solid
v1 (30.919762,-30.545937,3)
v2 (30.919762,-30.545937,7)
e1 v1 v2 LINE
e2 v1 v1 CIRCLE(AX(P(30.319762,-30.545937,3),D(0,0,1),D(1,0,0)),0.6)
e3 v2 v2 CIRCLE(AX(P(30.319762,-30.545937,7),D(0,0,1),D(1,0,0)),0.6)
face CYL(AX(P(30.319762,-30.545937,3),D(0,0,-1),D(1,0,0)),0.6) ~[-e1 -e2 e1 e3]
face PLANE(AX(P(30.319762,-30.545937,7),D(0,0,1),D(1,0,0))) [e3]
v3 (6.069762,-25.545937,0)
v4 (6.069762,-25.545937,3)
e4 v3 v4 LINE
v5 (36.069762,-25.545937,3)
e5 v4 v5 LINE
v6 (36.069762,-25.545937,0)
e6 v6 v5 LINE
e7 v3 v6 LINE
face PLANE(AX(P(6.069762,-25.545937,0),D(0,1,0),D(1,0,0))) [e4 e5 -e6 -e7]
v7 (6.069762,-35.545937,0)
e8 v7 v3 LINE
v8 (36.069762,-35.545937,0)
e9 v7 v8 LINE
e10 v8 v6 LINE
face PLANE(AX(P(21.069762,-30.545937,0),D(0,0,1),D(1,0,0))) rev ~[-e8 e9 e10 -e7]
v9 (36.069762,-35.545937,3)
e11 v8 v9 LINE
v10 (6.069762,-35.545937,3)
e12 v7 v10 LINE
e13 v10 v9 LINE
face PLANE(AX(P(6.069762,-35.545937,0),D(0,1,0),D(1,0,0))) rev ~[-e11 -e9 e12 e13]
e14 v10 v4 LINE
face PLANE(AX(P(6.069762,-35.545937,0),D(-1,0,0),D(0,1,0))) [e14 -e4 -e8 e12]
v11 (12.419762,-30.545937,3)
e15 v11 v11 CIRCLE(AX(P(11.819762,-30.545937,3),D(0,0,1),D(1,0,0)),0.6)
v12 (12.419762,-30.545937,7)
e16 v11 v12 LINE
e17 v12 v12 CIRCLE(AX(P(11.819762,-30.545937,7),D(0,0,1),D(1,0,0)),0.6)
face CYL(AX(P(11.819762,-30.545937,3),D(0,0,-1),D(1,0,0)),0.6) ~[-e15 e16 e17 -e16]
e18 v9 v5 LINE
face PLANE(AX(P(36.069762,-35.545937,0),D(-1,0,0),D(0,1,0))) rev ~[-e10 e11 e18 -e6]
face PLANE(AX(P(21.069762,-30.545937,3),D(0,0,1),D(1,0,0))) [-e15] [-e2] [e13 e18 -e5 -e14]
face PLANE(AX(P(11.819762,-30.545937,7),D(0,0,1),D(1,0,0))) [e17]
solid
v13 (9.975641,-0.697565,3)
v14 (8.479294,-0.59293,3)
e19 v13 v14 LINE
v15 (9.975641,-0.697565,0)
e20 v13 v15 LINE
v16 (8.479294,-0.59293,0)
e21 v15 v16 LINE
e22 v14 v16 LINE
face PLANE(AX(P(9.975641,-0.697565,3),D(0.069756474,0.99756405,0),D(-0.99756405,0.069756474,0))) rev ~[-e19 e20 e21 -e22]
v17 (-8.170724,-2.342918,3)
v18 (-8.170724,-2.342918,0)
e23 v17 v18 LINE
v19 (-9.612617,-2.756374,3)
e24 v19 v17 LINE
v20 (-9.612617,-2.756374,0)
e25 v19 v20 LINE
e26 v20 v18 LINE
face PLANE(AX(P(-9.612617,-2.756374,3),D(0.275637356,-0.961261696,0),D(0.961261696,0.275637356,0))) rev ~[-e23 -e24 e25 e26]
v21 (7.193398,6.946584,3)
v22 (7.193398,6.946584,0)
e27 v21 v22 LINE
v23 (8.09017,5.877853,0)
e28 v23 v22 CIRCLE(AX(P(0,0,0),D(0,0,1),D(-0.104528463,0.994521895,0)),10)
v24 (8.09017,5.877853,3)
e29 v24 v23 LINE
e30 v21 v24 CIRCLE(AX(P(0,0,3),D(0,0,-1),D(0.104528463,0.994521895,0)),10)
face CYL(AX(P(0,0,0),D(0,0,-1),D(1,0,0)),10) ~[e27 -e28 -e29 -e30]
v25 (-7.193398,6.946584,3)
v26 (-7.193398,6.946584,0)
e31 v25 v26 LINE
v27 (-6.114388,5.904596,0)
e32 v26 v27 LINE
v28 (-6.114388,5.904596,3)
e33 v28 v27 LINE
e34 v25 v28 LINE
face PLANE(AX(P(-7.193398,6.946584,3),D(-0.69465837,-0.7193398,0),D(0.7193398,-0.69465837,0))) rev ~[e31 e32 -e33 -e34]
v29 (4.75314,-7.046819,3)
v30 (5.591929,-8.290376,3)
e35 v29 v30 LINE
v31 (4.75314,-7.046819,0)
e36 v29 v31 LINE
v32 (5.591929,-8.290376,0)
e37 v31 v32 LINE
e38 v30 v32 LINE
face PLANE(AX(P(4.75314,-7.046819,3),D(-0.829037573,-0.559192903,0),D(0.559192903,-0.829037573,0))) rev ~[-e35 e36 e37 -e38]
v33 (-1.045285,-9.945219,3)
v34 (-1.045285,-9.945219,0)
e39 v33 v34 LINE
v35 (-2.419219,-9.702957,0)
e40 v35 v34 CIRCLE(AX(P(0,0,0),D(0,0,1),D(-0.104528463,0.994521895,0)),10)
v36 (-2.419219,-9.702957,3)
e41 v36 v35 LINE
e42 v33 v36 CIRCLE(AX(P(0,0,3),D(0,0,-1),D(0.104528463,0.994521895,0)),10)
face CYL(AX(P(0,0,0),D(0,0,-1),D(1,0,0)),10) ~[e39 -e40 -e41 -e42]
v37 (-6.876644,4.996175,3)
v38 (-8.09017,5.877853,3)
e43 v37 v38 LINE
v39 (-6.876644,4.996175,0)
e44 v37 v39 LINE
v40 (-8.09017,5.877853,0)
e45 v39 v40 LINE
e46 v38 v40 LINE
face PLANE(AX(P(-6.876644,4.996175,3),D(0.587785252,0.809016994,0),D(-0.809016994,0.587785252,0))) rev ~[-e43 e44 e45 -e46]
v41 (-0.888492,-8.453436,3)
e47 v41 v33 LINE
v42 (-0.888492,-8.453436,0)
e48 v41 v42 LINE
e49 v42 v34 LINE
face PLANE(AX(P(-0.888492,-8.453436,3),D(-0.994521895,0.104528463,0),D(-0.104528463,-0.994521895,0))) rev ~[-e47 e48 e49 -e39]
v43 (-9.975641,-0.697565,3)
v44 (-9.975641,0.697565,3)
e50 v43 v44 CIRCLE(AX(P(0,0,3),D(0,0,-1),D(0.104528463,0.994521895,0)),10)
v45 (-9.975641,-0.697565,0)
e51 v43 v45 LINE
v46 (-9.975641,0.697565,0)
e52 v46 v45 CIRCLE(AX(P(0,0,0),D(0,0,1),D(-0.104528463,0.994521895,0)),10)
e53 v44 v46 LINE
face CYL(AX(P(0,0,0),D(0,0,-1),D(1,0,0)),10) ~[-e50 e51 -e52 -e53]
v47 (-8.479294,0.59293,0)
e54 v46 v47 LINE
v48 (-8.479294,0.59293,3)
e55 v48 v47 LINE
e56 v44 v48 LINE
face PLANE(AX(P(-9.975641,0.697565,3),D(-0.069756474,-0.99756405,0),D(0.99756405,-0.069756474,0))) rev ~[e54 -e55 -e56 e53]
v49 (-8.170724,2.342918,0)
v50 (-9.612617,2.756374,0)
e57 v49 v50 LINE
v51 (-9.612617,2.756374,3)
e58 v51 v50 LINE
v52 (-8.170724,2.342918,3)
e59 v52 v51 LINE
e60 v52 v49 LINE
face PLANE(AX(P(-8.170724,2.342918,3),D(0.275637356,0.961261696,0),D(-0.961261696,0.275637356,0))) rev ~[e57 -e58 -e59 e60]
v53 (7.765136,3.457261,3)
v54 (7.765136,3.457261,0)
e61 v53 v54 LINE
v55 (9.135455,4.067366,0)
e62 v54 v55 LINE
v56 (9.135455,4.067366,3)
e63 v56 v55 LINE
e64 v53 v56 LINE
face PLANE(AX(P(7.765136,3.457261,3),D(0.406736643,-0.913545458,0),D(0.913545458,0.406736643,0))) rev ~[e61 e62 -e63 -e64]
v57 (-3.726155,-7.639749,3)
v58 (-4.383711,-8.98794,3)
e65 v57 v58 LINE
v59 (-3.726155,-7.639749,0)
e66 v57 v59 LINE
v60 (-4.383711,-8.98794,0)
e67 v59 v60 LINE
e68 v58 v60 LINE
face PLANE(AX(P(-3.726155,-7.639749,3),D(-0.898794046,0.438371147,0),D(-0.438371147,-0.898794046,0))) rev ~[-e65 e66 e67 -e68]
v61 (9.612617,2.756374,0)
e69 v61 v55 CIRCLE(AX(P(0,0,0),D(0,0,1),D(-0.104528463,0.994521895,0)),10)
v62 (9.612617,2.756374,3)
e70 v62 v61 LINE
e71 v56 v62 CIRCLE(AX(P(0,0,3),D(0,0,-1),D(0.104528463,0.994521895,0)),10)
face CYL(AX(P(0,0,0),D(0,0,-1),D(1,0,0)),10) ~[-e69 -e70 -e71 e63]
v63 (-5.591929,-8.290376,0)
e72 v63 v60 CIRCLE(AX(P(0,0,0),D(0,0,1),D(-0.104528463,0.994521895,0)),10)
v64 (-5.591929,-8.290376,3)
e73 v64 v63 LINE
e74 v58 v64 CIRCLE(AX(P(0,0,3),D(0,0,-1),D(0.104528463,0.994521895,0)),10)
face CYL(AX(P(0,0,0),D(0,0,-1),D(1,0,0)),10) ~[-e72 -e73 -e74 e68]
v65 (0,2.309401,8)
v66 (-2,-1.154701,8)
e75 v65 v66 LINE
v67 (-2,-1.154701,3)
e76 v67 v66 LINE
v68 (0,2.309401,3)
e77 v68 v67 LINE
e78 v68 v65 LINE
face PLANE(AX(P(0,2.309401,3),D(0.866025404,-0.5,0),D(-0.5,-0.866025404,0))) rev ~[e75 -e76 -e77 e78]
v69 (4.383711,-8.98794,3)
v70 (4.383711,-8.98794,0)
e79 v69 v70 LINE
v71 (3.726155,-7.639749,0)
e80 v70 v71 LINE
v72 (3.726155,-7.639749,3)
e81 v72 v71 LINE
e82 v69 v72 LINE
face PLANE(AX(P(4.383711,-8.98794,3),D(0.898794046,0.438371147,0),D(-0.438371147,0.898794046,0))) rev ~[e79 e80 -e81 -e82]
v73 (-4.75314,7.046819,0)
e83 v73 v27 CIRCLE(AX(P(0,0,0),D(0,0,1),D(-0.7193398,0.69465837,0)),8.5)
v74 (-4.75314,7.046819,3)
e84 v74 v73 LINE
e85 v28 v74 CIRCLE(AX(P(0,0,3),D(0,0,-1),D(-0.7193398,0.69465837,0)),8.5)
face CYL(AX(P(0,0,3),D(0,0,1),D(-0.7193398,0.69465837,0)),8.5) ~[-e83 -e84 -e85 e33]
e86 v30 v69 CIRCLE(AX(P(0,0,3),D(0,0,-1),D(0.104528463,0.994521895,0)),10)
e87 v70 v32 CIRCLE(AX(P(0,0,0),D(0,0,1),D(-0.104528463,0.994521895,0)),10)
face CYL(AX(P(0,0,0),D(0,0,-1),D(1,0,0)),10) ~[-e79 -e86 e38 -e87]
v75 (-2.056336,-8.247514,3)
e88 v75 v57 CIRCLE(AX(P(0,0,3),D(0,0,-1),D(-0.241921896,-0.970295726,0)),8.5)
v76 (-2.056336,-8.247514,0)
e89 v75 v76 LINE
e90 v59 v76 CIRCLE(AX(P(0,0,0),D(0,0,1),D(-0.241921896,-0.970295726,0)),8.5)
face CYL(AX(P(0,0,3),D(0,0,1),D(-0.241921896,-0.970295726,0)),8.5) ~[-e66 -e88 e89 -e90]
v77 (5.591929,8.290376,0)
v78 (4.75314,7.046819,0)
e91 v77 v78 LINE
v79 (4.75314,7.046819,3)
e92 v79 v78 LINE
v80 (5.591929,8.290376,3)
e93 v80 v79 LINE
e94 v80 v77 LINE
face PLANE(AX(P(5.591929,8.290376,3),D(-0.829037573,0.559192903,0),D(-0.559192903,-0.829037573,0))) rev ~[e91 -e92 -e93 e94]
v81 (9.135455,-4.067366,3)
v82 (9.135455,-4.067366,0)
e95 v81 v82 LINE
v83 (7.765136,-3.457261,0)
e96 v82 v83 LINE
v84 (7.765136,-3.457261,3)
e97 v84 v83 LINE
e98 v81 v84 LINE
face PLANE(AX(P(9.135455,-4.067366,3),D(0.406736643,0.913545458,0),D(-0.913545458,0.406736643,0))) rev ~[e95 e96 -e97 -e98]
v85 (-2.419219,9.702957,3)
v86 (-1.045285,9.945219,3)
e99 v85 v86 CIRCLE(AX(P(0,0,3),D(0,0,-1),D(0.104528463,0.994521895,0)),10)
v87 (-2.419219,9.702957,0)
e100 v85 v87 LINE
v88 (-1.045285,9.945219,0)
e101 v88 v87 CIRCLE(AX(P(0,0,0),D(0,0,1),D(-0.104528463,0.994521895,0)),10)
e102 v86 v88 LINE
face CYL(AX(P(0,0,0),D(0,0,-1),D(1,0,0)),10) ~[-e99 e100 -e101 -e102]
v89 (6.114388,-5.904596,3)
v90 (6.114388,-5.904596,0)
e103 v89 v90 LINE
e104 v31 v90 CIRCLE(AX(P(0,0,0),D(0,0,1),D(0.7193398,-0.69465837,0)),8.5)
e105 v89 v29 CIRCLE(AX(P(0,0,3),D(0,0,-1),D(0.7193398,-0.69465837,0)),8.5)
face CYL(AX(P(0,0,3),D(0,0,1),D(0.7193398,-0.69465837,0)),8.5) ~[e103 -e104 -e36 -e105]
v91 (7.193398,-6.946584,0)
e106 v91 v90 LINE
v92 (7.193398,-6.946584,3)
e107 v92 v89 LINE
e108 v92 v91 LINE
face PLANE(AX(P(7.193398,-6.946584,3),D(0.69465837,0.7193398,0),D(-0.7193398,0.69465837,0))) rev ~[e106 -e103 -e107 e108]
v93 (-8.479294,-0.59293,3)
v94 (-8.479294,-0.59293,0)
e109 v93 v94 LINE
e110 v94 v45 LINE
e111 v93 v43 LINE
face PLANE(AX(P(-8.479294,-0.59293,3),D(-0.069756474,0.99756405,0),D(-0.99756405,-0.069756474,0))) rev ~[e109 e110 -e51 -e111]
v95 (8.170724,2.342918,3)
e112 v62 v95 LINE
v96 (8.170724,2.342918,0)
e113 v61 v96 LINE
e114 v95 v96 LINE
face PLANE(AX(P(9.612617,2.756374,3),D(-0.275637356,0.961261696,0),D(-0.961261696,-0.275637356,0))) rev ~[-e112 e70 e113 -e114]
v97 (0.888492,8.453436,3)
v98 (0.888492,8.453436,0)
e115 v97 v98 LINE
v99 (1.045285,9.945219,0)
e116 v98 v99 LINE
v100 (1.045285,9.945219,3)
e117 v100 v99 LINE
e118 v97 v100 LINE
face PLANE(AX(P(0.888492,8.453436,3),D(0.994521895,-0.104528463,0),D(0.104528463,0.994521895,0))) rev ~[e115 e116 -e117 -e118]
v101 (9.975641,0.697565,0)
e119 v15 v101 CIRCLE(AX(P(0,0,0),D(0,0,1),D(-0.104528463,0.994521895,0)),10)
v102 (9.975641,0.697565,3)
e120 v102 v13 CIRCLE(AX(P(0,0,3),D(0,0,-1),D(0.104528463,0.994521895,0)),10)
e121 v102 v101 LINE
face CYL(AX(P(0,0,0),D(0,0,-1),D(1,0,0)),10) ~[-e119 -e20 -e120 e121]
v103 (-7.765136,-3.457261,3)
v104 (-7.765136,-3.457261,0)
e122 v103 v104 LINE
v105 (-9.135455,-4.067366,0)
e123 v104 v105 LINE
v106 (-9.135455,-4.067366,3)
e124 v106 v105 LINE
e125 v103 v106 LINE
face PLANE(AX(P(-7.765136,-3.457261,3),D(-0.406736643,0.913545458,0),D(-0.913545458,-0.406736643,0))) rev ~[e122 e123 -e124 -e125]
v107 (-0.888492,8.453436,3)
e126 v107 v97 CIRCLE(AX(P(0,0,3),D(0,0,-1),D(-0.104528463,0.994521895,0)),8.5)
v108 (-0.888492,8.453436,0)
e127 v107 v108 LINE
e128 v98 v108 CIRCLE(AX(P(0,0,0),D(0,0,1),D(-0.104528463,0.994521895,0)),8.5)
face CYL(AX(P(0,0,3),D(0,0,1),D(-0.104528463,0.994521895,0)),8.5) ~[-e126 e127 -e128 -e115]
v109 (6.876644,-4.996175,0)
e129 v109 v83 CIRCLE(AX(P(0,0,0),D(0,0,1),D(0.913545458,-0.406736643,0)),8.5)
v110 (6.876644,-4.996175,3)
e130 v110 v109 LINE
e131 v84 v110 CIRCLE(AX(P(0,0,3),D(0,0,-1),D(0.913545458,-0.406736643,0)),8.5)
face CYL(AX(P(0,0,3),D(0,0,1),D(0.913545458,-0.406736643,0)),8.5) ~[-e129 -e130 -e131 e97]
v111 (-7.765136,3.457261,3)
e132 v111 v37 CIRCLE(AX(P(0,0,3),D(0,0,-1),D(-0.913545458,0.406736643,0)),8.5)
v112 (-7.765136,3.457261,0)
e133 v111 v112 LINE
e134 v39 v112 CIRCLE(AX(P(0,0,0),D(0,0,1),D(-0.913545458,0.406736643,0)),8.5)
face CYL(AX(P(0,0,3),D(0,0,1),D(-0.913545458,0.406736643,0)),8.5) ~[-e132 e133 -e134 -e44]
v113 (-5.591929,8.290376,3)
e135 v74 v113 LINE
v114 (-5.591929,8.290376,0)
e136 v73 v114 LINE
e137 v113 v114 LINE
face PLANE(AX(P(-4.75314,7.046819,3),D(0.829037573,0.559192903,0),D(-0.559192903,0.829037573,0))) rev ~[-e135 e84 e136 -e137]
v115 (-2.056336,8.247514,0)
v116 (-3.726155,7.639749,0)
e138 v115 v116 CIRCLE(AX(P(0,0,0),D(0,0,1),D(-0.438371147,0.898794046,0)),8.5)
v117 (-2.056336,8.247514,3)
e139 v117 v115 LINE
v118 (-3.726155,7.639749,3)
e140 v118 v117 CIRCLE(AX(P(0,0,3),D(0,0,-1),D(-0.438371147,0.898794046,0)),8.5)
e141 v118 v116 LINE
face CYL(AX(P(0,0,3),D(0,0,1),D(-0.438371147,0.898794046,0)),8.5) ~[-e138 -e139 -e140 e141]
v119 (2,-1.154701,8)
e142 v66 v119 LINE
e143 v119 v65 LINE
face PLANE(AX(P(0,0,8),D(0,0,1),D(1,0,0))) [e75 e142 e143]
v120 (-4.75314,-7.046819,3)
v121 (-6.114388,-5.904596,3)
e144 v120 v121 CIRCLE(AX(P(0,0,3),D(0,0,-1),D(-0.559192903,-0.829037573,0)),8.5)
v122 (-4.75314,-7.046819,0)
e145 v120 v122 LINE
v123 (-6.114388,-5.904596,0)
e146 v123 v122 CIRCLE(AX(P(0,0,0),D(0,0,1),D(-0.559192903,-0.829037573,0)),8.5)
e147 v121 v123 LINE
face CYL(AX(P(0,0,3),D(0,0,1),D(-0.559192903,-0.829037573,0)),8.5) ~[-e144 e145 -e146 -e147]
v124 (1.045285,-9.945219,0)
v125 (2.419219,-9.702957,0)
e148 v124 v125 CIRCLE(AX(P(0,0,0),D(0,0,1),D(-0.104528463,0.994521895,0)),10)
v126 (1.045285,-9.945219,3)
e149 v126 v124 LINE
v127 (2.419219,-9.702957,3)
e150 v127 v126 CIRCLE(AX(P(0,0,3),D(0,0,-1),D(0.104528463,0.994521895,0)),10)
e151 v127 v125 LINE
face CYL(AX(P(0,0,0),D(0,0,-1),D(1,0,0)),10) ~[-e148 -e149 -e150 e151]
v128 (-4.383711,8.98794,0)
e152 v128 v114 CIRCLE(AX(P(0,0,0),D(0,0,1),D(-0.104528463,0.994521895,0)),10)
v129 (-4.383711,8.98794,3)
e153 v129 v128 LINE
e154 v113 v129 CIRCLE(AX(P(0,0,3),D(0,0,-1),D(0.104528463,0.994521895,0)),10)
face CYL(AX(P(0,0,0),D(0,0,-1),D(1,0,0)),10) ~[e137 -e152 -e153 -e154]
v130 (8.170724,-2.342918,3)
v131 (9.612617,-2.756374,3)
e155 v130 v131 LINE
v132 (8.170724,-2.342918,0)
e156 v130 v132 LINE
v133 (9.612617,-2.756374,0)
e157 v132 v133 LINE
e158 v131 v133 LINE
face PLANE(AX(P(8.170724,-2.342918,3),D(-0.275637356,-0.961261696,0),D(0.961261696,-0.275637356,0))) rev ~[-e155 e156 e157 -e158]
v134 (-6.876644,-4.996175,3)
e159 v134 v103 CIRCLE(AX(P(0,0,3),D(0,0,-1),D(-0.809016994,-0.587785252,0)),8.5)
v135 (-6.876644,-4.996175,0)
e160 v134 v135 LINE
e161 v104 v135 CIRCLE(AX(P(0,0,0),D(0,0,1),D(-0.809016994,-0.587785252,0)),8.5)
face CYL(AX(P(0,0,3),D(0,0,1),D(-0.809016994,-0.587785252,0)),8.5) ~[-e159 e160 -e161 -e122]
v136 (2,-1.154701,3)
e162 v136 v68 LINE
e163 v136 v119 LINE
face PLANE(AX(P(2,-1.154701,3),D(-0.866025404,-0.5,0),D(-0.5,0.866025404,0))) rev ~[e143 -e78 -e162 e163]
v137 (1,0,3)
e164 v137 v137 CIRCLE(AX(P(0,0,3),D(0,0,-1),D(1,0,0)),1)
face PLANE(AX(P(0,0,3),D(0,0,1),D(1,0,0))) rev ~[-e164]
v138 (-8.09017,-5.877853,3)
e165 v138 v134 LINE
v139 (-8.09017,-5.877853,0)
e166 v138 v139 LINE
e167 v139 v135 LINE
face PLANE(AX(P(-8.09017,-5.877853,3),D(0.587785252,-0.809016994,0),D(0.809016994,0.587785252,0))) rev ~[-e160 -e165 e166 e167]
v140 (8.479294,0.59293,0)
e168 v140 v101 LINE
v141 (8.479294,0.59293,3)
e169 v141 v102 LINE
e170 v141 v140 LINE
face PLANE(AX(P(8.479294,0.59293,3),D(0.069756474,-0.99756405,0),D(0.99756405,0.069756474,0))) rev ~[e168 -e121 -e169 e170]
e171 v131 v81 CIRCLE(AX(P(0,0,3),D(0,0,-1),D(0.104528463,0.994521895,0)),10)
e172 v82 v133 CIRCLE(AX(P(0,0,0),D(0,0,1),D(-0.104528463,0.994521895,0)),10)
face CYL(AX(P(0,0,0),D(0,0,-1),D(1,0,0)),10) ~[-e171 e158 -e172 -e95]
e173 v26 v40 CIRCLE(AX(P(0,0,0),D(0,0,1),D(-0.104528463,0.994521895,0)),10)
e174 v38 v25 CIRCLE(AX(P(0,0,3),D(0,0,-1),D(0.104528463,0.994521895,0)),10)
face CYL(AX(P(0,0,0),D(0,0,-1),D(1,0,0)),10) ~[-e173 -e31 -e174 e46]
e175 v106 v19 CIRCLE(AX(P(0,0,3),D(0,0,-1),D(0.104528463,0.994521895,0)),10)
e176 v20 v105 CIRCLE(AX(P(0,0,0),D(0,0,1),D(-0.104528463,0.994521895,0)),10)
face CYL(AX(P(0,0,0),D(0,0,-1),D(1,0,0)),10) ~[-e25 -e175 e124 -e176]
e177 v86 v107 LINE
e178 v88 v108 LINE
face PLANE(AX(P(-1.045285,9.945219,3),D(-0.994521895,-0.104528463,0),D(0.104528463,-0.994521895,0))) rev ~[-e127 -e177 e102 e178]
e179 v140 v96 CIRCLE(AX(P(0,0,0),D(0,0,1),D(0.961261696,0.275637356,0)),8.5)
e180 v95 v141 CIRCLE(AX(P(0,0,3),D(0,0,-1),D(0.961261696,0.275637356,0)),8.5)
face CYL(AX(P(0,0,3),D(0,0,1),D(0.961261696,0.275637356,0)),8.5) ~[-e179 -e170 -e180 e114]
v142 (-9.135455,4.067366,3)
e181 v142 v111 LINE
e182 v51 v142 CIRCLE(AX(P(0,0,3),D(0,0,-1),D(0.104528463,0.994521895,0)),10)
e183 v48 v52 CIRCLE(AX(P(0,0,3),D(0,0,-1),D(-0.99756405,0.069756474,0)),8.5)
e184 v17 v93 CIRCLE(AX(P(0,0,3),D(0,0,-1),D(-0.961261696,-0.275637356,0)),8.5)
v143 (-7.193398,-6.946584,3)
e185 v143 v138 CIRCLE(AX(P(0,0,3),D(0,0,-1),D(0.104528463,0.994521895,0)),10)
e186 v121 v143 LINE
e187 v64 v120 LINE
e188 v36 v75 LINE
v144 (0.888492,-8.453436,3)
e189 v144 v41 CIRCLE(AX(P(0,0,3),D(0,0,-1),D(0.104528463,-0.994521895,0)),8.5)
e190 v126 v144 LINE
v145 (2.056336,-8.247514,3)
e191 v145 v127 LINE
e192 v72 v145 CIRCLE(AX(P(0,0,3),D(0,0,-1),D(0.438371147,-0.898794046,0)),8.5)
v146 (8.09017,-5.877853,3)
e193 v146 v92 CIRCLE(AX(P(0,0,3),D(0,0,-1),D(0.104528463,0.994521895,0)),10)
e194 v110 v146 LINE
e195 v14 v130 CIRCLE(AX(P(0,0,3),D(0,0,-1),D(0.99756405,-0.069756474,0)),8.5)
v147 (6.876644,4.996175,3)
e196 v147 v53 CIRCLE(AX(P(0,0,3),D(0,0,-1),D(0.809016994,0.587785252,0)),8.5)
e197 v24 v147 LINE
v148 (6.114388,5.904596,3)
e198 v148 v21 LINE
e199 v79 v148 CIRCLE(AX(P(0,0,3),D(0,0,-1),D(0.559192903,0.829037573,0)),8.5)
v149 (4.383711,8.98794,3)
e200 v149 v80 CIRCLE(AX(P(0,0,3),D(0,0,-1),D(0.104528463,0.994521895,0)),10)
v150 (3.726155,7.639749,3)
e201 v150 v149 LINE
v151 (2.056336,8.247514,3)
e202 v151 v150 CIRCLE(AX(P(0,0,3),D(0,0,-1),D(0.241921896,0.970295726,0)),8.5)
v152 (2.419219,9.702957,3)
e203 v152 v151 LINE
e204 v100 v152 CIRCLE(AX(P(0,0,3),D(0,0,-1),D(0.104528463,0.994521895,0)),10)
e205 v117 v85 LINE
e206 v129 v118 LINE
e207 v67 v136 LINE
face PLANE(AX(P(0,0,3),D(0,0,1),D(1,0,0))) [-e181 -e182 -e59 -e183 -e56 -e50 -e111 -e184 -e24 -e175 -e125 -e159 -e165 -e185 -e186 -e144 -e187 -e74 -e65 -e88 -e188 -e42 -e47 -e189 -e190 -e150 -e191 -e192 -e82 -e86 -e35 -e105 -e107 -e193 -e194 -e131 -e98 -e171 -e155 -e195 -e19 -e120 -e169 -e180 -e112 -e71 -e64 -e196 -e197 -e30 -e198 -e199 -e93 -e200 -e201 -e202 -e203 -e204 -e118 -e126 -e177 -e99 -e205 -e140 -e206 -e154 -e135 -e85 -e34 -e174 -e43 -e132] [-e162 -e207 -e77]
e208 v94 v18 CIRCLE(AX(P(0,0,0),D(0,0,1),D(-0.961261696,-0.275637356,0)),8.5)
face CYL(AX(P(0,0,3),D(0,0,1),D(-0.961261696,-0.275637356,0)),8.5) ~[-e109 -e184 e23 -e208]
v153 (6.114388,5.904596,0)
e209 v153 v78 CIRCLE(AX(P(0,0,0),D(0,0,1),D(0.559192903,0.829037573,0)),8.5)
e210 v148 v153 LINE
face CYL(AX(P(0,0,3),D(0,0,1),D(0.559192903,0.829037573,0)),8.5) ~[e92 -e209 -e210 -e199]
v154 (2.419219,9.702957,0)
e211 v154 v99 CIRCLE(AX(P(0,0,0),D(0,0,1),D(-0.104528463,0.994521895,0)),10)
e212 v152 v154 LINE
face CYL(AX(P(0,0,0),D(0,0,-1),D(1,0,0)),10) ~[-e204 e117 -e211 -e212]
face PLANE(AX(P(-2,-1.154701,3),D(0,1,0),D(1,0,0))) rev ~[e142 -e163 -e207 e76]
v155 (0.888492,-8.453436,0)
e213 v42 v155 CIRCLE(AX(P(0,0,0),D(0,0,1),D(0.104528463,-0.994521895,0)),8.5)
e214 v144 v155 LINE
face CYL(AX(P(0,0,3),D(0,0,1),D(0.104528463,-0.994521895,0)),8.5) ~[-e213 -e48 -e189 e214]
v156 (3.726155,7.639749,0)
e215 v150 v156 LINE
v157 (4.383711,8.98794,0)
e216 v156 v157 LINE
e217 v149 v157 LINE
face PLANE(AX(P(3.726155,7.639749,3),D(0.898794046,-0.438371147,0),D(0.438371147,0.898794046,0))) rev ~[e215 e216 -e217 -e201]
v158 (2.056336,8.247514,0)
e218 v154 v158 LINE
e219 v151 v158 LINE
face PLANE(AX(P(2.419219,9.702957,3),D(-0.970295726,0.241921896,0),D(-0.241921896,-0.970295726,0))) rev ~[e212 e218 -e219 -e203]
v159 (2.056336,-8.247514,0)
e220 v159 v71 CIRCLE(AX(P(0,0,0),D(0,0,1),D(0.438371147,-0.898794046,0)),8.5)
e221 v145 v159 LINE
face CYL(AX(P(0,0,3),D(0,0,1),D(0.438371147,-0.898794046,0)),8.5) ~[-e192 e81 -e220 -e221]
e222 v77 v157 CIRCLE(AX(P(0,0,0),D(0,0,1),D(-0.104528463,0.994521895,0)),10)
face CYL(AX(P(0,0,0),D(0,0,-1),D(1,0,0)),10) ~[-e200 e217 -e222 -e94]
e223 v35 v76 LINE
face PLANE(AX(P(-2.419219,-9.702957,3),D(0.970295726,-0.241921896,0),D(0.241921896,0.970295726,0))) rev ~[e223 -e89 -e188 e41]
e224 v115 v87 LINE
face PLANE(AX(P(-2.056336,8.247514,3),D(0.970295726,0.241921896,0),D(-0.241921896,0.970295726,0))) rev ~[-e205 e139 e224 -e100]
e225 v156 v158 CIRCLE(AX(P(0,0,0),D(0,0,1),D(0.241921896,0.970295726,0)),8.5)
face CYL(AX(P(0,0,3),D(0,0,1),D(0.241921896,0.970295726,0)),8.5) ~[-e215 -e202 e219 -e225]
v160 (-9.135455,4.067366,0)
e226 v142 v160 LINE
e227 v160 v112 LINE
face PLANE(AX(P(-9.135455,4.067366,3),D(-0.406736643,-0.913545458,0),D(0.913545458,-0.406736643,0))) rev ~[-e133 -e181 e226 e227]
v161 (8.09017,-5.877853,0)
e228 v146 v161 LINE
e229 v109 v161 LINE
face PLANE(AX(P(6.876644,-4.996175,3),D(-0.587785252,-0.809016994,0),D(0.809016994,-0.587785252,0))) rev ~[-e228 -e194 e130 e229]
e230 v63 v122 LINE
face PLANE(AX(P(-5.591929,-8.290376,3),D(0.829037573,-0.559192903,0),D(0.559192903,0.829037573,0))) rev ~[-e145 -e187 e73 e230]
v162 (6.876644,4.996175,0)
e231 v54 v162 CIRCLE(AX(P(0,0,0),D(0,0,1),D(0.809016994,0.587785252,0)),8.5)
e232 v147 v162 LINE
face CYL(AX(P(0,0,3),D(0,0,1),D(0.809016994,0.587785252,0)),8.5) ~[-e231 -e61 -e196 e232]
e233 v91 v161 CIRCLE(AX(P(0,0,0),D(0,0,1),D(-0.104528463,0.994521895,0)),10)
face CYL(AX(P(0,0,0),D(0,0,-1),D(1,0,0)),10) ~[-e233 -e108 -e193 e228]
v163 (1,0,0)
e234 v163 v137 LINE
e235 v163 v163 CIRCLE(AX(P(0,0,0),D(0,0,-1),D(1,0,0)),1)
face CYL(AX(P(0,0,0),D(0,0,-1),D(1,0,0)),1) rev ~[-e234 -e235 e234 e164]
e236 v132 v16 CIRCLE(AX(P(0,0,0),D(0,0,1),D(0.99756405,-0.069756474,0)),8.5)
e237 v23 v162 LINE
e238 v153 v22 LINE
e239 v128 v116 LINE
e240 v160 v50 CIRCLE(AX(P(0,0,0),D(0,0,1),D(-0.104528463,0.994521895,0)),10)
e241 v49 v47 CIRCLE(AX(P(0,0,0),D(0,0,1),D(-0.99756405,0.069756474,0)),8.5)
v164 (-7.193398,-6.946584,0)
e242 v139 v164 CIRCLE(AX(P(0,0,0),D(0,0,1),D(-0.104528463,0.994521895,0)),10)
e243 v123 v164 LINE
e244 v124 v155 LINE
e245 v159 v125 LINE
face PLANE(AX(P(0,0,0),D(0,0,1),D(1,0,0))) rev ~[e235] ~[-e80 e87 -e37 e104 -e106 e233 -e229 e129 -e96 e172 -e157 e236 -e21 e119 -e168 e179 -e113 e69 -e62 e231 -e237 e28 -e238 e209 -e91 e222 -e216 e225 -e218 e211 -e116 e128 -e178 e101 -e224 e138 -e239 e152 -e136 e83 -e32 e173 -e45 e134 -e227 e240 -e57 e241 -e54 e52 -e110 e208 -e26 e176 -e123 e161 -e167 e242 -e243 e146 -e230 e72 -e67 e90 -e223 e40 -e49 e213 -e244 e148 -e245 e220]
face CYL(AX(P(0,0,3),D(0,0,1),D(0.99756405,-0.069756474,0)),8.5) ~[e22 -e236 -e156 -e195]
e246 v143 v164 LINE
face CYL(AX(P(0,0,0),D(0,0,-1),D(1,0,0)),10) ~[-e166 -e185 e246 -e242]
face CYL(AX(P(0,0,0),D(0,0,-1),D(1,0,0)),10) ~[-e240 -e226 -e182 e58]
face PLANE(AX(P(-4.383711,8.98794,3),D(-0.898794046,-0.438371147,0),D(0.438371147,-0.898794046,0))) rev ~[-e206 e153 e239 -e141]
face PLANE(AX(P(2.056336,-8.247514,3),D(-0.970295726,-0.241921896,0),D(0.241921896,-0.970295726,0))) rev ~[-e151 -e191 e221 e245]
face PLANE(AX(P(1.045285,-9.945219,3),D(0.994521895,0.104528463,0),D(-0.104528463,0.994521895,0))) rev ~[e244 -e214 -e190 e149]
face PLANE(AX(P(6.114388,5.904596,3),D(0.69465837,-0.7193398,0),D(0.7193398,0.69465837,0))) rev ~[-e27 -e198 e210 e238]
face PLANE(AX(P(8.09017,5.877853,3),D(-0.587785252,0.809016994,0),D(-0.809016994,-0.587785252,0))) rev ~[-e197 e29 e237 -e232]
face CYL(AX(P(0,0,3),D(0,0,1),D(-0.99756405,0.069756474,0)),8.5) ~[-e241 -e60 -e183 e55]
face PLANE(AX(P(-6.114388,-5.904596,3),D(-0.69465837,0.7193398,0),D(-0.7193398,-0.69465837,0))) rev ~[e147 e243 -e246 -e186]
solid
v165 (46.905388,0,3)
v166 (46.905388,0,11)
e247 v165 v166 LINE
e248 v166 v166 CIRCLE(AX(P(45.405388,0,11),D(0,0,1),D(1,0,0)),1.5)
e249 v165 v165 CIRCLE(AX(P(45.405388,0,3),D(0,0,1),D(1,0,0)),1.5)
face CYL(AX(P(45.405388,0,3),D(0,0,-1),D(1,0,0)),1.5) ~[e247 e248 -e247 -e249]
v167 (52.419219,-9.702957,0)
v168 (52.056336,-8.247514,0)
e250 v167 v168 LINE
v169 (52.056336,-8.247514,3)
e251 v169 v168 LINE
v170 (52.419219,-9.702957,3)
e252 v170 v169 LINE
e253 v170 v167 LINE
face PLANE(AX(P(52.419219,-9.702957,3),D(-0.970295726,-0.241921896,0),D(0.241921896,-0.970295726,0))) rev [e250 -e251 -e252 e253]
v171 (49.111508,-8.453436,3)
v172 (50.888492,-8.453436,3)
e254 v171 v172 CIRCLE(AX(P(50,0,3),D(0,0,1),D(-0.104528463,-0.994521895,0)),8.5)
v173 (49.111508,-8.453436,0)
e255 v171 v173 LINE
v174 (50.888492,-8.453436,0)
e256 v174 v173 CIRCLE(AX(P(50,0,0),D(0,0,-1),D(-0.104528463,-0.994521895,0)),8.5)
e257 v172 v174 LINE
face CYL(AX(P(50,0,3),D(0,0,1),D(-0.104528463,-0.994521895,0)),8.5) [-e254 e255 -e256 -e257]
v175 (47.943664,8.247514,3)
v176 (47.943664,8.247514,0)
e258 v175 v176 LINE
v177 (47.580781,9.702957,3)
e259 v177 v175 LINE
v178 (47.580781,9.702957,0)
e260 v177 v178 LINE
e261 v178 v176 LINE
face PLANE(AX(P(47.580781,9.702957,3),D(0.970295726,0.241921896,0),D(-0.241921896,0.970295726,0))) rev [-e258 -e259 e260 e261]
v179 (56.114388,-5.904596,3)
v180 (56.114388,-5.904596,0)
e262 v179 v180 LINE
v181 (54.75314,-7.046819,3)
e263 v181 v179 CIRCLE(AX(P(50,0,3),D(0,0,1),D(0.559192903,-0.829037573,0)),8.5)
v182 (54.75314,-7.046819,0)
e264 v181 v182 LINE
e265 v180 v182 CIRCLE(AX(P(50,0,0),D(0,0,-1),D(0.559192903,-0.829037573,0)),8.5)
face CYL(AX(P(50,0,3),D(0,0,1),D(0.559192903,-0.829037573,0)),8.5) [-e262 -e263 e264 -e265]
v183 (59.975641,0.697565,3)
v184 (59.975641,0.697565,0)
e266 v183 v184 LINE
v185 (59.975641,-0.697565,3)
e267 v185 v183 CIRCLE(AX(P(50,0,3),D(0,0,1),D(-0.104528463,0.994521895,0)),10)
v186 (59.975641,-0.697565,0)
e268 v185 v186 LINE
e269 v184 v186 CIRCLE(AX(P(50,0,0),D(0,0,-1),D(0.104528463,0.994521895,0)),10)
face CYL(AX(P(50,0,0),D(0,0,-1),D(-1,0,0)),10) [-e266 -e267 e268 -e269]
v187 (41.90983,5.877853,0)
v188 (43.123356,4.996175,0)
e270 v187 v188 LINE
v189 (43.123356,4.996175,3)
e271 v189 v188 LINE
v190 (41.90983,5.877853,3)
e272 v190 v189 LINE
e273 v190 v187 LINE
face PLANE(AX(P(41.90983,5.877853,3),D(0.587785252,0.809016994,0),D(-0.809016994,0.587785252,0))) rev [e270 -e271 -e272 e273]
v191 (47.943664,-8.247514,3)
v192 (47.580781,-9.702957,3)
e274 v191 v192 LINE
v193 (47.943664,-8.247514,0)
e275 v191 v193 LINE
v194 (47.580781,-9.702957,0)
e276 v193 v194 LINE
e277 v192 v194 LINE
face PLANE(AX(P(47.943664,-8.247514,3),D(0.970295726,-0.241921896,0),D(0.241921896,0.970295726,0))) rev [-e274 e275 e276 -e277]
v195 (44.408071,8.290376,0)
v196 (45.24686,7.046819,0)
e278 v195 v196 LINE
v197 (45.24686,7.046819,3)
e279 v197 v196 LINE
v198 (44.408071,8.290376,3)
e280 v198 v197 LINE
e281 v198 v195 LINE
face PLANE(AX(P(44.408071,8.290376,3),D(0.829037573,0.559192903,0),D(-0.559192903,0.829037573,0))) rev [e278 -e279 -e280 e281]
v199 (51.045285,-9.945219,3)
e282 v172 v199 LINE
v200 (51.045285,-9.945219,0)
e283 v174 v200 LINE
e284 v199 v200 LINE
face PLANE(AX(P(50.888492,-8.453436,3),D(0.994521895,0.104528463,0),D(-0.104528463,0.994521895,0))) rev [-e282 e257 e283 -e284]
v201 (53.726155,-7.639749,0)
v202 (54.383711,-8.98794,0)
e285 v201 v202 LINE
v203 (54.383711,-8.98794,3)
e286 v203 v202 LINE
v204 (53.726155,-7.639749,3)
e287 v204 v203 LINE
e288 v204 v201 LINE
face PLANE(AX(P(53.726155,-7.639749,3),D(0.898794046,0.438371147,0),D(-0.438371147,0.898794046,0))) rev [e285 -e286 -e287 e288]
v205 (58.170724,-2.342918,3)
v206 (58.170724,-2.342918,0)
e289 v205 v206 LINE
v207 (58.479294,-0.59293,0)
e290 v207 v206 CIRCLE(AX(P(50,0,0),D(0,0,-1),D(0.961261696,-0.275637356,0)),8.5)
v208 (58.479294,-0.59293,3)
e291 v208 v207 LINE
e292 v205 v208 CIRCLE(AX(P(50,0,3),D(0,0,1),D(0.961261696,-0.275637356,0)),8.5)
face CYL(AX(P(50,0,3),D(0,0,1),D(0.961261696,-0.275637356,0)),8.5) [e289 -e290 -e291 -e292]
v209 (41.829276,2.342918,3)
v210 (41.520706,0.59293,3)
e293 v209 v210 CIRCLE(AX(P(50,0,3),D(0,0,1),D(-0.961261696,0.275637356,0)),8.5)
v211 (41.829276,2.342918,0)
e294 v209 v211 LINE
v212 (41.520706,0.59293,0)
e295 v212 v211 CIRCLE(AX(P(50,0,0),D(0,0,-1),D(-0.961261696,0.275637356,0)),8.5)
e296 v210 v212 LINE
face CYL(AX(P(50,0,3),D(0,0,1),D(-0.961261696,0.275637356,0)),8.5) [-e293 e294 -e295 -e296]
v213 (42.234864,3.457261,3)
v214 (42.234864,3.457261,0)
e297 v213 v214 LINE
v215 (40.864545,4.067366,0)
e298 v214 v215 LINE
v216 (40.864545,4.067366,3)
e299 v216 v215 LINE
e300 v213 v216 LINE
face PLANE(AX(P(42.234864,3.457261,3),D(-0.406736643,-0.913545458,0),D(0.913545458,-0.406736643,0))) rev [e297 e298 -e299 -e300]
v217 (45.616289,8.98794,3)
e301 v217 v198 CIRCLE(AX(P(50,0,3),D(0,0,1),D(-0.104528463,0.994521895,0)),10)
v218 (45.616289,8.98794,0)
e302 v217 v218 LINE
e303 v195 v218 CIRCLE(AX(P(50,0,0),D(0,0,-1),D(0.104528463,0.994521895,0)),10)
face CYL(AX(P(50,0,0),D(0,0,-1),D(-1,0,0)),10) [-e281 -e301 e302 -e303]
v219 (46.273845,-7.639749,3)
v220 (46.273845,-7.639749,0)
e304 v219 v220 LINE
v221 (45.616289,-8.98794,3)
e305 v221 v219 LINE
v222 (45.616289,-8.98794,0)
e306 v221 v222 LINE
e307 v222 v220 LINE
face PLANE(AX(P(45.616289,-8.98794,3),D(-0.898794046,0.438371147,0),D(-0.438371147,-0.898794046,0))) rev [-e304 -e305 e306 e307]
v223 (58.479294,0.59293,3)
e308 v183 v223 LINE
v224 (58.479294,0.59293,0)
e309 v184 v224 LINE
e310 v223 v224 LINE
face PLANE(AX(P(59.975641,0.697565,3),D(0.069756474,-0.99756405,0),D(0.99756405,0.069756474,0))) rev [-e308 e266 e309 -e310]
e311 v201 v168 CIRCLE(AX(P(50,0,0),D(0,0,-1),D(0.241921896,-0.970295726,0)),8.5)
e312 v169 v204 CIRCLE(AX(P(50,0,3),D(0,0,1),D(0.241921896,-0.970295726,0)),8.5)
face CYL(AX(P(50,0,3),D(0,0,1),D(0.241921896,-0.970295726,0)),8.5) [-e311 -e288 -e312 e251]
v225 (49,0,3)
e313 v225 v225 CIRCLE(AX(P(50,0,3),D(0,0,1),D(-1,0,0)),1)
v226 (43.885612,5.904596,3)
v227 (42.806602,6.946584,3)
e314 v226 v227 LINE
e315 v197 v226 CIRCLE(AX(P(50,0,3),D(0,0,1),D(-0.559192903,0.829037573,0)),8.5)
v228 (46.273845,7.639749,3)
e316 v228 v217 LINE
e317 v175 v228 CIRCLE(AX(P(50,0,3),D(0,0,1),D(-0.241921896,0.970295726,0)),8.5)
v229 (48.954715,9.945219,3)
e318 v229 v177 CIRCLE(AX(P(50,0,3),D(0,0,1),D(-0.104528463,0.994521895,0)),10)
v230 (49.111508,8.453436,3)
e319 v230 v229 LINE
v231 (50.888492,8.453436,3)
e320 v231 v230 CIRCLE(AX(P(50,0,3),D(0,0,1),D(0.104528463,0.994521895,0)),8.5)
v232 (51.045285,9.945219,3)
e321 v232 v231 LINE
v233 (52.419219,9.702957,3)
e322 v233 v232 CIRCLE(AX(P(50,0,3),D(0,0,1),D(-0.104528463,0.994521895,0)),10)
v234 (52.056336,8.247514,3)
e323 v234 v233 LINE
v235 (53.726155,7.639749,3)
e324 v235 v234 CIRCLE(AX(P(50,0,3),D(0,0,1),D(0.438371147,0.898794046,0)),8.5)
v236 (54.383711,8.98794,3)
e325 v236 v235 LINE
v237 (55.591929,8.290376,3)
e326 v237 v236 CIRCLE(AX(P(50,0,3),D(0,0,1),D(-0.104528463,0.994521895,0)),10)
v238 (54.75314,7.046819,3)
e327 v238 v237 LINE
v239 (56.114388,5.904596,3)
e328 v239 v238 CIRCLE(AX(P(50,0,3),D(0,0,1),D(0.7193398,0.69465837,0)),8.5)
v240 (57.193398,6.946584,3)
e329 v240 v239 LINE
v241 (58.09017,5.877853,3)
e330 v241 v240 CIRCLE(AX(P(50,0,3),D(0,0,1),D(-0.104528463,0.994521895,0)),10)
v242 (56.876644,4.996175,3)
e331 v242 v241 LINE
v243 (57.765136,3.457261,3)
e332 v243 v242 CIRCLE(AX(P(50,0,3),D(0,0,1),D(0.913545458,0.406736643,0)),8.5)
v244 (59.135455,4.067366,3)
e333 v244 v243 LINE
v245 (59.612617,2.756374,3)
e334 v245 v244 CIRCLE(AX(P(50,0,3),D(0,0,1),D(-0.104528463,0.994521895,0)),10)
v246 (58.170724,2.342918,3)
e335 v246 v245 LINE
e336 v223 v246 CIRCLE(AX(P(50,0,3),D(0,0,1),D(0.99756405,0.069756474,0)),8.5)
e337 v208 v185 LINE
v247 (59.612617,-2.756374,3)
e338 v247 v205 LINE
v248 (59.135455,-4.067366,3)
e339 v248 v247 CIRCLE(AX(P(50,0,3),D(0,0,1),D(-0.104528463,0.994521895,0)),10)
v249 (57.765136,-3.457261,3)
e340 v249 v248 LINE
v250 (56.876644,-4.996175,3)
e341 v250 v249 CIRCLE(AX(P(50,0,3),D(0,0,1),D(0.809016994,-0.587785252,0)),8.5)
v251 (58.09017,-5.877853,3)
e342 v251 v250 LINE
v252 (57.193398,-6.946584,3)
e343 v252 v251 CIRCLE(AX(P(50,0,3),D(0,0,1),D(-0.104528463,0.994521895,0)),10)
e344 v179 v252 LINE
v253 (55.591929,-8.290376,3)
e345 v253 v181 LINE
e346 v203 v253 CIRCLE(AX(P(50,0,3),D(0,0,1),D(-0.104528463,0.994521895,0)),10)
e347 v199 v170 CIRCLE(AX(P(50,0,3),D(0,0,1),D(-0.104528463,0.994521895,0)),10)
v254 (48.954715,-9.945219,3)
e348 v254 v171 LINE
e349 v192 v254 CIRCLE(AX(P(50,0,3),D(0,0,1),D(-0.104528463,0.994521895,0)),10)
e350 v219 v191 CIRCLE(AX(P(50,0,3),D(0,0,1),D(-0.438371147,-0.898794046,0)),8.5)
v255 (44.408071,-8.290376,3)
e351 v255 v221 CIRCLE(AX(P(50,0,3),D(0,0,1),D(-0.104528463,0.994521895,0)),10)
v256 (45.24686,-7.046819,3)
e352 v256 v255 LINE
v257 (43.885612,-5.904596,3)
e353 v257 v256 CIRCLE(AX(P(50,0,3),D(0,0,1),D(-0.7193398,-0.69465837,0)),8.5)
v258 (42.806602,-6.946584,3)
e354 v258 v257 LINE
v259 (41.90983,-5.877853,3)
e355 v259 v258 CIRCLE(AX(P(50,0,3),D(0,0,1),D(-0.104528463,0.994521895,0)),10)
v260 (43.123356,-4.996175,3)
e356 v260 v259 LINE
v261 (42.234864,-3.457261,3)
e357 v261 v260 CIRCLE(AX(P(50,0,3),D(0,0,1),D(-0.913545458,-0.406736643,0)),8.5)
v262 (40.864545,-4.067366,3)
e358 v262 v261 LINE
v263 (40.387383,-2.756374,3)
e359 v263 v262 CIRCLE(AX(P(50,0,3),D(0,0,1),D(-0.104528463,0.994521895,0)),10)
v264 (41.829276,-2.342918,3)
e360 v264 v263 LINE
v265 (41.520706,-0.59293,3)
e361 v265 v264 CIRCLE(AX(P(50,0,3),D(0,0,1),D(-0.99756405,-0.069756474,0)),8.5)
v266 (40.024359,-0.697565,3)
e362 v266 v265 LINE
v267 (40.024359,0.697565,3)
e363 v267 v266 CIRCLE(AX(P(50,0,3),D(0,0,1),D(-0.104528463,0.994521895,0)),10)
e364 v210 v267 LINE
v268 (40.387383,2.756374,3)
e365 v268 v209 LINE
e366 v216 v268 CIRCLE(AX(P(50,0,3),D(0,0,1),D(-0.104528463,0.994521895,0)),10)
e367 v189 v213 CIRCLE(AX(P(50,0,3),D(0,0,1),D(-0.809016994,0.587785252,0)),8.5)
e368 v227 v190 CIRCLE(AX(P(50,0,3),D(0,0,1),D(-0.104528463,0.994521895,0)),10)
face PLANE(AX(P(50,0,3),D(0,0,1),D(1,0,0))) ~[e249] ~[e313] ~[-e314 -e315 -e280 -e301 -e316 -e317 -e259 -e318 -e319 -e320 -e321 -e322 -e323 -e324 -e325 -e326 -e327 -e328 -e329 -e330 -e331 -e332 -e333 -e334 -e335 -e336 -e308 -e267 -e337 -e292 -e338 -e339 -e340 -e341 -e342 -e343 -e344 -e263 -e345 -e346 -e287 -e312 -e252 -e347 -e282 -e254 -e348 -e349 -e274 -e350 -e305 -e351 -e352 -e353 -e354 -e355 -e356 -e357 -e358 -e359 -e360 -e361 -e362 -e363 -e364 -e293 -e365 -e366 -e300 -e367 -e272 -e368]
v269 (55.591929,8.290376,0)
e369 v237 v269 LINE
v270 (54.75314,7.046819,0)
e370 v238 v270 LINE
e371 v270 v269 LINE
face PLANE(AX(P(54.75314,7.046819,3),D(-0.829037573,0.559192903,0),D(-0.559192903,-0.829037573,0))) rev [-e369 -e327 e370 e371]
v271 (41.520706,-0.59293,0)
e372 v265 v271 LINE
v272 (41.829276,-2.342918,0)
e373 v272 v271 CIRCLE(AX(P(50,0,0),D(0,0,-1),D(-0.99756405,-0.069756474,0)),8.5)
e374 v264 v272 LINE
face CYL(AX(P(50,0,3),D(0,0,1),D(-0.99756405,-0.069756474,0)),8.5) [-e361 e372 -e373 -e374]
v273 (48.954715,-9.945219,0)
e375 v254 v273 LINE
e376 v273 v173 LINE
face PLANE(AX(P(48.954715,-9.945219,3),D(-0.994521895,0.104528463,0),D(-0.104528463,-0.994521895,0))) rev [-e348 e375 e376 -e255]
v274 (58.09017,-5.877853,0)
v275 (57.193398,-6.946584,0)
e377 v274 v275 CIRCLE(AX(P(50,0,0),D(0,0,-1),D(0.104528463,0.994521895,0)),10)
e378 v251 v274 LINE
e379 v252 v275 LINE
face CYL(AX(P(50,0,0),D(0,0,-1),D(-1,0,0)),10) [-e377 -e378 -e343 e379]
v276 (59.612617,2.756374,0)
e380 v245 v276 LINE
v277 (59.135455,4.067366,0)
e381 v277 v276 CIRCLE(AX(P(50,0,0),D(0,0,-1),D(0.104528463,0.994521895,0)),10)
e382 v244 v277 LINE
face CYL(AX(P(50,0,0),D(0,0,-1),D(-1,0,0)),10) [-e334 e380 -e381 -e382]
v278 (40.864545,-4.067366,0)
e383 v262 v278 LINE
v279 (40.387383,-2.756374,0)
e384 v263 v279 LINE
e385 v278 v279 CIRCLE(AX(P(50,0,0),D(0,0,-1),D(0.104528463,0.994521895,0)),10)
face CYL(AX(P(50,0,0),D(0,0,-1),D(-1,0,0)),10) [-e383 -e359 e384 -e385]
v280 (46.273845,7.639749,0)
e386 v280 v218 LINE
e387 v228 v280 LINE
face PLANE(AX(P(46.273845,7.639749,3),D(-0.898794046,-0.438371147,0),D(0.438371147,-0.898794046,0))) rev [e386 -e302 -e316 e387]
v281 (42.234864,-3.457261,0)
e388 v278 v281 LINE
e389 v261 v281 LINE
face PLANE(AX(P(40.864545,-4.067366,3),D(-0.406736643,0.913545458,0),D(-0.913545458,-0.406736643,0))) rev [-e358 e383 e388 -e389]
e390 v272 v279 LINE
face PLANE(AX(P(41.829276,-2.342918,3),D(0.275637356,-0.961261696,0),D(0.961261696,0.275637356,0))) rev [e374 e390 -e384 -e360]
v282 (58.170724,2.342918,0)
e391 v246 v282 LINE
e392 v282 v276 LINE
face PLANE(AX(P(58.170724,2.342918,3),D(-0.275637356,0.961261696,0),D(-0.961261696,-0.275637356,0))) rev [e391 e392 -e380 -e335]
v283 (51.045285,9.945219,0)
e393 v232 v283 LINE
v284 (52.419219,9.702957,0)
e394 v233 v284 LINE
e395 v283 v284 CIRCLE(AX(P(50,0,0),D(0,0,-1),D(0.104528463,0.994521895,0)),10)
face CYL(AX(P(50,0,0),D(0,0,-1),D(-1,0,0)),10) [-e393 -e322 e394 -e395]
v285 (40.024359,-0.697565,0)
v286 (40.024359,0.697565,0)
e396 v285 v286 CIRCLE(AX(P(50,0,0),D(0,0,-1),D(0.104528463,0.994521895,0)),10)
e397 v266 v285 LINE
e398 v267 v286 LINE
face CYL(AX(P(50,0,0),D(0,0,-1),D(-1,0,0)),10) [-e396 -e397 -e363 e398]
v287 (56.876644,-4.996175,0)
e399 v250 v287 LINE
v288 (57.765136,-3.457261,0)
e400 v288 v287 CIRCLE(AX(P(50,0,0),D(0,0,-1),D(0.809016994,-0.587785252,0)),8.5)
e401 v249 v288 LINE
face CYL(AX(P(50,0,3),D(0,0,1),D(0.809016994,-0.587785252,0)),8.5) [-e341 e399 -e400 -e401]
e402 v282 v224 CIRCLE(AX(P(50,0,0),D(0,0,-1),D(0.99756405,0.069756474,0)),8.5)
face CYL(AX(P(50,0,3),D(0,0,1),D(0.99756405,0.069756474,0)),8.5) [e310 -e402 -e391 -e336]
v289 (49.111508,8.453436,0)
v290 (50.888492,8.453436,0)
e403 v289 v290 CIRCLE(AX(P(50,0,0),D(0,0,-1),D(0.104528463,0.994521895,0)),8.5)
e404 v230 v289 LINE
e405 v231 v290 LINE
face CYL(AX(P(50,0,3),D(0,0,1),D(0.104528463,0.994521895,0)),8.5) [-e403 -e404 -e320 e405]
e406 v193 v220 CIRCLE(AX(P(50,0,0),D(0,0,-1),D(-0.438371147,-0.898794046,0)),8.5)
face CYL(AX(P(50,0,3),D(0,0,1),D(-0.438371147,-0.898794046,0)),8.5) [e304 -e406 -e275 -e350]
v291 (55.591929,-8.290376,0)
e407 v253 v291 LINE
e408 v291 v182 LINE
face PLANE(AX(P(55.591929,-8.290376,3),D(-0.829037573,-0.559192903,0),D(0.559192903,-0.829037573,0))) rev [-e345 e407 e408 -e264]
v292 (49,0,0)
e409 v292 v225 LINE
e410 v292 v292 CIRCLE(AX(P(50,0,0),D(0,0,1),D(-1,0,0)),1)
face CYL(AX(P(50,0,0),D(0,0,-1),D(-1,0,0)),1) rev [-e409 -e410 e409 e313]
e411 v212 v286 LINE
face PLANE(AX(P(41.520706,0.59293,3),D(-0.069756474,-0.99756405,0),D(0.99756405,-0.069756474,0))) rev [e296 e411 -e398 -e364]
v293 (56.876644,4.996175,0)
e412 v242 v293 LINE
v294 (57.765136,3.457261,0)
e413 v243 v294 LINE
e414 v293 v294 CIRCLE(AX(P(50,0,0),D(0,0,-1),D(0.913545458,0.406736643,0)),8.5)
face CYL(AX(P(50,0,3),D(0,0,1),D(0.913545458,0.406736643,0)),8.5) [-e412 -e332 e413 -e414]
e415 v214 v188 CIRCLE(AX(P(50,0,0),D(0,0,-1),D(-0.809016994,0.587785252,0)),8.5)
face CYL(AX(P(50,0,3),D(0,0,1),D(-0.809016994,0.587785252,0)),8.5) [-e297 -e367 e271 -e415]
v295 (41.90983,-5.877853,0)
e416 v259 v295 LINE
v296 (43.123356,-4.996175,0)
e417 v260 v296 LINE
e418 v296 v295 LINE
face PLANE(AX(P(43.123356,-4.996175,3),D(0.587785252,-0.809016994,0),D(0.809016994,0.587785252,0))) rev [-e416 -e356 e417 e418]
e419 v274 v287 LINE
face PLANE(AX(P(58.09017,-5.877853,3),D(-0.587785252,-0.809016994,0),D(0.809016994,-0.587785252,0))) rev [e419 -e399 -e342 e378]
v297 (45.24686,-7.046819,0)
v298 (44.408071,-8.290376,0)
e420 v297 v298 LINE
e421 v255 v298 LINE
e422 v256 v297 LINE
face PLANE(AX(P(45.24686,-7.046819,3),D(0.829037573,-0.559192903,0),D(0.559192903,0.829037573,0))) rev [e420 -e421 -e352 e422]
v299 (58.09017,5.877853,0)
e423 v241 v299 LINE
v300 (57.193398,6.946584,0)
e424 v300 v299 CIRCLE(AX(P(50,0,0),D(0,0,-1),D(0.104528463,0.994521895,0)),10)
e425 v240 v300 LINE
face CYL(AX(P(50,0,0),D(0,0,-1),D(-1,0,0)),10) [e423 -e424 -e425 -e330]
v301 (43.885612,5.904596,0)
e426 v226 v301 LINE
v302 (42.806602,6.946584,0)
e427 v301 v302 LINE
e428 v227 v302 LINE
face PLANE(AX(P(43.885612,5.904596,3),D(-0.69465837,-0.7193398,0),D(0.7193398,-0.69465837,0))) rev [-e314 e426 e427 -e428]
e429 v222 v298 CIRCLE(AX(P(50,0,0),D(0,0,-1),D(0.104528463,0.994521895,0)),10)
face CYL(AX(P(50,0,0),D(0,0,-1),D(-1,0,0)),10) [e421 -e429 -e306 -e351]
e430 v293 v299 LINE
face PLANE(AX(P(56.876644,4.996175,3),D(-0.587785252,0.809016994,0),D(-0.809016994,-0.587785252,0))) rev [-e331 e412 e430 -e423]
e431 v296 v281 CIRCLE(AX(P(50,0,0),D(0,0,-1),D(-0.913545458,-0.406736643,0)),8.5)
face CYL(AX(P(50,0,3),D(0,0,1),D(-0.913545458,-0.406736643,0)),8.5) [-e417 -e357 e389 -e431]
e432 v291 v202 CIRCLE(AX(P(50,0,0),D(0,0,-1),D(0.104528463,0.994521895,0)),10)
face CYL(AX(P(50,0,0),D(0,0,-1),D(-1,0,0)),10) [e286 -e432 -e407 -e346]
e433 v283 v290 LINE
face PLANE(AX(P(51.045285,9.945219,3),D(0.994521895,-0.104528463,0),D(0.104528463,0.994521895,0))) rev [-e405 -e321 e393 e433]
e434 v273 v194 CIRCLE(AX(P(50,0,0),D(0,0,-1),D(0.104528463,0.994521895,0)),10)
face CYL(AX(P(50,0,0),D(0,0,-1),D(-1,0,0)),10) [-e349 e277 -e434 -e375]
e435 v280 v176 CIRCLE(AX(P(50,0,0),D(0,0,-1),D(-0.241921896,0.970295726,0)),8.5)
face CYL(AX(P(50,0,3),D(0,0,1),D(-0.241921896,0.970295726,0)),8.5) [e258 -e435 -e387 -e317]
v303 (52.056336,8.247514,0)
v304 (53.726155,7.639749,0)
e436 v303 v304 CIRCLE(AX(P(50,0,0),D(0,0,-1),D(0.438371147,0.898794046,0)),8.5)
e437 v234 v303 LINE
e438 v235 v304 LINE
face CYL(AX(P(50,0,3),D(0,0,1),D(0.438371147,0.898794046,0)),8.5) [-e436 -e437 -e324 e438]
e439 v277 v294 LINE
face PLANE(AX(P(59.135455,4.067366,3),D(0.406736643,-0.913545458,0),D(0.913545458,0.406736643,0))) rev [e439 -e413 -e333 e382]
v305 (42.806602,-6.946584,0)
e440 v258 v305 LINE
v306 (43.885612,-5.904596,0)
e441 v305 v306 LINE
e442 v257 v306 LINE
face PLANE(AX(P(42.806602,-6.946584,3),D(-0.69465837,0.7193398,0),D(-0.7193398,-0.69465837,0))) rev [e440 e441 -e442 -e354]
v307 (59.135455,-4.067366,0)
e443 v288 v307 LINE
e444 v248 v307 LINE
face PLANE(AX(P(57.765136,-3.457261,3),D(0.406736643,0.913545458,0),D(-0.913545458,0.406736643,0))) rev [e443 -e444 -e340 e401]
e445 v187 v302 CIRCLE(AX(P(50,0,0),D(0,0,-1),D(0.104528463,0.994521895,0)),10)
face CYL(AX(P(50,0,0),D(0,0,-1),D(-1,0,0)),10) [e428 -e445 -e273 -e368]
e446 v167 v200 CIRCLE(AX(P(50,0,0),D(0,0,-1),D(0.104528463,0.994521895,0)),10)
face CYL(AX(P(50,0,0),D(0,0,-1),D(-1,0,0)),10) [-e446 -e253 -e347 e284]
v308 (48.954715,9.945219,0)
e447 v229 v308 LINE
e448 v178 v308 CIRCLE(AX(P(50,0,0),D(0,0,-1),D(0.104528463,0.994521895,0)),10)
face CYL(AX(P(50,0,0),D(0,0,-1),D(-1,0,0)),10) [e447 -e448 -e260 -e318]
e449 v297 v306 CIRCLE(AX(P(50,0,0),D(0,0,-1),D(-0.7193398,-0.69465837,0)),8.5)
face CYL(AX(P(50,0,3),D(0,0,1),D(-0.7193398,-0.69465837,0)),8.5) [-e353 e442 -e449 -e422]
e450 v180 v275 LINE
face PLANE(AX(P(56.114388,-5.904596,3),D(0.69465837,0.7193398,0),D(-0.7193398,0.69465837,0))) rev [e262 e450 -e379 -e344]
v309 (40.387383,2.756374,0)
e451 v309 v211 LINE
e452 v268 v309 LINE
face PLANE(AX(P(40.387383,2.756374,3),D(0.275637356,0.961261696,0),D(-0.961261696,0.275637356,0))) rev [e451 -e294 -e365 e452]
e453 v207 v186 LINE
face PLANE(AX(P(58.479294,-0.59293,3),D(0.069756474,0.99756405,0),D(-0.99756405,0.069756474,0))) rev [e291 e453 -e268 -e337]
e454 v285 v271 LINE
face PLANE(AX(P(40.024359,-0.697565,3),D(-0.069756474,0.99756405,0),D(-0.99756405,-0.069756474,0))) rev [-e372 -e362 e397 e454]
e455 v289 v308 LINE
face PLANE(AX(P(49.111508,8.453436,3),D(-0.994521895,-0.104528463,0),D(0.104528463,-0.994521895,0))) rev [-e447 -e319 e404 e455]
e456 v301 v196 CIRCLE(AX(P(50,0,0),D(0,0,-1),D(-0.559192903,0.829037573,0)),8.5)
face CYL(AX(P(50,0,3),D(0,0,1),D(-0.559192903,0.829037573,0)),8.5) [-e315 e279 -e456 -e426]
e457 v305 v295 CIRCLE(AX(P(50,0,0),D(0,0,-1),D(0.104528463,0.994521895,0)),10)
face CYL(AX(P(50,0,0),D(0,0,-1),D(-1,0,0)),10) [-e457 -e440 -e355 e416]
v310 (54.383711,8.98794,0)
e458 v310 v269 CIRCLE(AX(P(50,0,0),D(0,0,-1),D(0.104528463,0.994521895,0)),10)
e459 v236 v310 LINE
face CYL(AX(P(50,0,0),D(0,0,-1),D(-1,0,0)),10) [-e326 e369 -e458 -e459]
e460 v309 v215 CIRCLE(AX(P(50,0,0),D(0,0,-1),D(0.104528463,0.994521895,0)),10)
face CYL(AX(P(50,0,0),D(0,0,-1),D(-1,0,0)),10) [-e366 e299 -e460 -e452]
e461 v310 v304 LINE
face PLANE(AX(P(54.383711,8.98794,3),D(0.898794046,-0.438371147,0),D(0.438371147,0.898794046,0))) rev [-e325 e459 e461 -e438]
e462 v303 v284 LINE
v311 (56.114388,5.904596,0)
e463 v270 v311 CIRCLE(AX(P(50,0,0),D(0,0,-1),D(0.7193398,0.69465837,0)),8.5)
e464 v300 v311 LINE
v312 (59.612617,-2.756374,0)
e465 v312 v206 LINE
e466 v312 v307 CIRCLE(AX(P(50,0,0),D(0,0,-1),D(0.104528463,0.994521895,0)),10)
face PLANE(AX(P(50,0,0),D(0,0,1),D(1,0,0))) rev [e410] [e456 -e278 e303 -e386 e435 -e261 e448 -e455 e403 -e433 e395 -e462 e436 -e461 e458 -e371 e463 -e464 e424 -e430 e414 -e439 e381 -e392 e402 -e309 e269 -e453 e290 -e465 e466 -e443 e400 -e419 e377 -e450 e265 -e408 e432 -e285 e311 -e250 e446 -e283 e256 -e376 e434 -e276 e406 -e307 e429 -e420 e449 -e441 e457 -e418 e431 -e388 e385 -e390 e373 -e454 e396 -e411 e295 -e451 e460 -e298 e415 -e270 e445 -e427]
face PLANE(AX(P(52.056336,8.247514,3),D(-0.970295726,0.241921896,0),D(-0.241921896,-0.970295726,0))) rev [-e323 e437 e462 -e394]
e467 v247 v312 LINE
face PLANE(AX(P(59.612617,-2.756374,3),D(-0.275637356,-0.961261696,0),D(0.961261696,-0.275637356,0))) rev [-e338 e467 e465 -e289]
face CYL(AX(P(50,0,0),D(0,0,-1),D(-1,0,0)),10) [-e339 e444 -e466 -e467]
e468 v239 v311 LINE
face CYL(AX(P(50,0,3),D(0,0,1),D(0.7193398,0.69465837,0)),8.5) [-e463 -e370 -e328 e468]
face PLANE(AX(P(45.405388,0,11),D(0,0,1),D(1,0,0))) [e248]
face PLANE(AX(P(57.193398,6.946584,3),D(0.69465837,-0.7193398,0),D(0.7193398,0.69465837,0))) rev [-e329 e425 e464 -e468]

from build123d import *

# Parameters (mm, degrees)
F0_R      = 10
F1_DEPTH  = 3
F3_DEPTH  = 3.001
F4_COUNT  = 18
F4_ANGLE  = 340
F7_R      = 1
F8_DEPTH  = 4
F10_DEPTH = 5
F11_R     = 1.5
F12_DEPTH = 8
F13_W     = 30
F13_H     = 10
F14_DEPTH = 3
F15_R     = 0.6
F16_DEPTH = 4


with BuildPart() as f1:
    # F0 (on Top) → F1 (new body)
    with BuildSketch(Plane.XY):
        Circle(F0_R)
    extrude(amount=F1_DEPTH)

    # F2 (on face) → F3 (cut, through all)
    with BuildSketch(Plane.XY.offset(3)):
        with BuildLine():
            ThreePointArc((-0.8884919378, 8.4534361106), (0, 8.5), (0.8884919378, 8.4534361106))
            Line((0.8884919378, 8.4534361106), (1.0452846327, 9.9452189537))
            ThreePointArc((1.0452846327, 9.9452189537), (0, 10), (-1.0452846327, 9.9452189537))
            Line((-1.0452846327, 9.9452189537), (-0.8884919378, 8.4534361106))
        make_face()
    f3 = extrude(amount=-F3_DEPTH, mode=Mode.SUBTRACT)

    # F4: F3 ×18 about axis
    f4_axis = Axis((0, 0, 0), (0, 0, -1))
    for i in range(1, F4_COUNT):
        add(f3.rotate(f4_axis, i * F4_ANGLE / (F4_COUNT - 1)), mode=Mode.SUBTRACT)

    # F7 (on face) → F8 (cut)
    with BuildSketch(Plane(origin=(0, 0, 0), x_dir=(1, 0, 0), z_dir=(0, 0, -1))):
        Circle(F7_R)
    extrude(amount=-F8_DEPTH, mode=Mode.SUBTRACT)


with BuildPart() as f9_1:
    # F9: instance of F1
    add(f1.part.mirror(Plane.YZ.offset(25)))

    # F11 (on face) → F12 (join)
    with BuildSketch(Plane.XY.offset(3)):
        with Locations((45.4053878784, 0)):
            Circle(F11_R)
    extrude(amount=F12_DEPTH)


with BuildPart() as f1_1:
    add(f1.part)

    # F6 (on face) → F10 (join)
    with BuildSketch(Plane.XY.offset(3)):
        Polygon((2, -1.1547005384), (0, 2.3094010768), (-2, -1.1547005384), align=None)
    extrude(amount=F10_DEPTH)


with BuildPart() as f14:
    # F13 (on Top) → F14 (new body)
    with BuildSketch(Plane.XY):
        with Locations((21.0697623773, -30.5459368974)):
            Rectangle(F13_W, F13_H)
    extrude(amount=F14_DEPTH)

    # F15 (on face) → F16 (join)
    with BuildSketch(Plane.XY.offset(3)):
        with Locations((11.8197623773, -30.5459368974)):
            Circle(F15_R)
        with Locations((30.3197623773, -30.5459368974)):
            Circle(F15_R)
    extrude(amount=F16_DEPTH)


solid = Compound([f9_1.part, f1_1.part, f14.part])
